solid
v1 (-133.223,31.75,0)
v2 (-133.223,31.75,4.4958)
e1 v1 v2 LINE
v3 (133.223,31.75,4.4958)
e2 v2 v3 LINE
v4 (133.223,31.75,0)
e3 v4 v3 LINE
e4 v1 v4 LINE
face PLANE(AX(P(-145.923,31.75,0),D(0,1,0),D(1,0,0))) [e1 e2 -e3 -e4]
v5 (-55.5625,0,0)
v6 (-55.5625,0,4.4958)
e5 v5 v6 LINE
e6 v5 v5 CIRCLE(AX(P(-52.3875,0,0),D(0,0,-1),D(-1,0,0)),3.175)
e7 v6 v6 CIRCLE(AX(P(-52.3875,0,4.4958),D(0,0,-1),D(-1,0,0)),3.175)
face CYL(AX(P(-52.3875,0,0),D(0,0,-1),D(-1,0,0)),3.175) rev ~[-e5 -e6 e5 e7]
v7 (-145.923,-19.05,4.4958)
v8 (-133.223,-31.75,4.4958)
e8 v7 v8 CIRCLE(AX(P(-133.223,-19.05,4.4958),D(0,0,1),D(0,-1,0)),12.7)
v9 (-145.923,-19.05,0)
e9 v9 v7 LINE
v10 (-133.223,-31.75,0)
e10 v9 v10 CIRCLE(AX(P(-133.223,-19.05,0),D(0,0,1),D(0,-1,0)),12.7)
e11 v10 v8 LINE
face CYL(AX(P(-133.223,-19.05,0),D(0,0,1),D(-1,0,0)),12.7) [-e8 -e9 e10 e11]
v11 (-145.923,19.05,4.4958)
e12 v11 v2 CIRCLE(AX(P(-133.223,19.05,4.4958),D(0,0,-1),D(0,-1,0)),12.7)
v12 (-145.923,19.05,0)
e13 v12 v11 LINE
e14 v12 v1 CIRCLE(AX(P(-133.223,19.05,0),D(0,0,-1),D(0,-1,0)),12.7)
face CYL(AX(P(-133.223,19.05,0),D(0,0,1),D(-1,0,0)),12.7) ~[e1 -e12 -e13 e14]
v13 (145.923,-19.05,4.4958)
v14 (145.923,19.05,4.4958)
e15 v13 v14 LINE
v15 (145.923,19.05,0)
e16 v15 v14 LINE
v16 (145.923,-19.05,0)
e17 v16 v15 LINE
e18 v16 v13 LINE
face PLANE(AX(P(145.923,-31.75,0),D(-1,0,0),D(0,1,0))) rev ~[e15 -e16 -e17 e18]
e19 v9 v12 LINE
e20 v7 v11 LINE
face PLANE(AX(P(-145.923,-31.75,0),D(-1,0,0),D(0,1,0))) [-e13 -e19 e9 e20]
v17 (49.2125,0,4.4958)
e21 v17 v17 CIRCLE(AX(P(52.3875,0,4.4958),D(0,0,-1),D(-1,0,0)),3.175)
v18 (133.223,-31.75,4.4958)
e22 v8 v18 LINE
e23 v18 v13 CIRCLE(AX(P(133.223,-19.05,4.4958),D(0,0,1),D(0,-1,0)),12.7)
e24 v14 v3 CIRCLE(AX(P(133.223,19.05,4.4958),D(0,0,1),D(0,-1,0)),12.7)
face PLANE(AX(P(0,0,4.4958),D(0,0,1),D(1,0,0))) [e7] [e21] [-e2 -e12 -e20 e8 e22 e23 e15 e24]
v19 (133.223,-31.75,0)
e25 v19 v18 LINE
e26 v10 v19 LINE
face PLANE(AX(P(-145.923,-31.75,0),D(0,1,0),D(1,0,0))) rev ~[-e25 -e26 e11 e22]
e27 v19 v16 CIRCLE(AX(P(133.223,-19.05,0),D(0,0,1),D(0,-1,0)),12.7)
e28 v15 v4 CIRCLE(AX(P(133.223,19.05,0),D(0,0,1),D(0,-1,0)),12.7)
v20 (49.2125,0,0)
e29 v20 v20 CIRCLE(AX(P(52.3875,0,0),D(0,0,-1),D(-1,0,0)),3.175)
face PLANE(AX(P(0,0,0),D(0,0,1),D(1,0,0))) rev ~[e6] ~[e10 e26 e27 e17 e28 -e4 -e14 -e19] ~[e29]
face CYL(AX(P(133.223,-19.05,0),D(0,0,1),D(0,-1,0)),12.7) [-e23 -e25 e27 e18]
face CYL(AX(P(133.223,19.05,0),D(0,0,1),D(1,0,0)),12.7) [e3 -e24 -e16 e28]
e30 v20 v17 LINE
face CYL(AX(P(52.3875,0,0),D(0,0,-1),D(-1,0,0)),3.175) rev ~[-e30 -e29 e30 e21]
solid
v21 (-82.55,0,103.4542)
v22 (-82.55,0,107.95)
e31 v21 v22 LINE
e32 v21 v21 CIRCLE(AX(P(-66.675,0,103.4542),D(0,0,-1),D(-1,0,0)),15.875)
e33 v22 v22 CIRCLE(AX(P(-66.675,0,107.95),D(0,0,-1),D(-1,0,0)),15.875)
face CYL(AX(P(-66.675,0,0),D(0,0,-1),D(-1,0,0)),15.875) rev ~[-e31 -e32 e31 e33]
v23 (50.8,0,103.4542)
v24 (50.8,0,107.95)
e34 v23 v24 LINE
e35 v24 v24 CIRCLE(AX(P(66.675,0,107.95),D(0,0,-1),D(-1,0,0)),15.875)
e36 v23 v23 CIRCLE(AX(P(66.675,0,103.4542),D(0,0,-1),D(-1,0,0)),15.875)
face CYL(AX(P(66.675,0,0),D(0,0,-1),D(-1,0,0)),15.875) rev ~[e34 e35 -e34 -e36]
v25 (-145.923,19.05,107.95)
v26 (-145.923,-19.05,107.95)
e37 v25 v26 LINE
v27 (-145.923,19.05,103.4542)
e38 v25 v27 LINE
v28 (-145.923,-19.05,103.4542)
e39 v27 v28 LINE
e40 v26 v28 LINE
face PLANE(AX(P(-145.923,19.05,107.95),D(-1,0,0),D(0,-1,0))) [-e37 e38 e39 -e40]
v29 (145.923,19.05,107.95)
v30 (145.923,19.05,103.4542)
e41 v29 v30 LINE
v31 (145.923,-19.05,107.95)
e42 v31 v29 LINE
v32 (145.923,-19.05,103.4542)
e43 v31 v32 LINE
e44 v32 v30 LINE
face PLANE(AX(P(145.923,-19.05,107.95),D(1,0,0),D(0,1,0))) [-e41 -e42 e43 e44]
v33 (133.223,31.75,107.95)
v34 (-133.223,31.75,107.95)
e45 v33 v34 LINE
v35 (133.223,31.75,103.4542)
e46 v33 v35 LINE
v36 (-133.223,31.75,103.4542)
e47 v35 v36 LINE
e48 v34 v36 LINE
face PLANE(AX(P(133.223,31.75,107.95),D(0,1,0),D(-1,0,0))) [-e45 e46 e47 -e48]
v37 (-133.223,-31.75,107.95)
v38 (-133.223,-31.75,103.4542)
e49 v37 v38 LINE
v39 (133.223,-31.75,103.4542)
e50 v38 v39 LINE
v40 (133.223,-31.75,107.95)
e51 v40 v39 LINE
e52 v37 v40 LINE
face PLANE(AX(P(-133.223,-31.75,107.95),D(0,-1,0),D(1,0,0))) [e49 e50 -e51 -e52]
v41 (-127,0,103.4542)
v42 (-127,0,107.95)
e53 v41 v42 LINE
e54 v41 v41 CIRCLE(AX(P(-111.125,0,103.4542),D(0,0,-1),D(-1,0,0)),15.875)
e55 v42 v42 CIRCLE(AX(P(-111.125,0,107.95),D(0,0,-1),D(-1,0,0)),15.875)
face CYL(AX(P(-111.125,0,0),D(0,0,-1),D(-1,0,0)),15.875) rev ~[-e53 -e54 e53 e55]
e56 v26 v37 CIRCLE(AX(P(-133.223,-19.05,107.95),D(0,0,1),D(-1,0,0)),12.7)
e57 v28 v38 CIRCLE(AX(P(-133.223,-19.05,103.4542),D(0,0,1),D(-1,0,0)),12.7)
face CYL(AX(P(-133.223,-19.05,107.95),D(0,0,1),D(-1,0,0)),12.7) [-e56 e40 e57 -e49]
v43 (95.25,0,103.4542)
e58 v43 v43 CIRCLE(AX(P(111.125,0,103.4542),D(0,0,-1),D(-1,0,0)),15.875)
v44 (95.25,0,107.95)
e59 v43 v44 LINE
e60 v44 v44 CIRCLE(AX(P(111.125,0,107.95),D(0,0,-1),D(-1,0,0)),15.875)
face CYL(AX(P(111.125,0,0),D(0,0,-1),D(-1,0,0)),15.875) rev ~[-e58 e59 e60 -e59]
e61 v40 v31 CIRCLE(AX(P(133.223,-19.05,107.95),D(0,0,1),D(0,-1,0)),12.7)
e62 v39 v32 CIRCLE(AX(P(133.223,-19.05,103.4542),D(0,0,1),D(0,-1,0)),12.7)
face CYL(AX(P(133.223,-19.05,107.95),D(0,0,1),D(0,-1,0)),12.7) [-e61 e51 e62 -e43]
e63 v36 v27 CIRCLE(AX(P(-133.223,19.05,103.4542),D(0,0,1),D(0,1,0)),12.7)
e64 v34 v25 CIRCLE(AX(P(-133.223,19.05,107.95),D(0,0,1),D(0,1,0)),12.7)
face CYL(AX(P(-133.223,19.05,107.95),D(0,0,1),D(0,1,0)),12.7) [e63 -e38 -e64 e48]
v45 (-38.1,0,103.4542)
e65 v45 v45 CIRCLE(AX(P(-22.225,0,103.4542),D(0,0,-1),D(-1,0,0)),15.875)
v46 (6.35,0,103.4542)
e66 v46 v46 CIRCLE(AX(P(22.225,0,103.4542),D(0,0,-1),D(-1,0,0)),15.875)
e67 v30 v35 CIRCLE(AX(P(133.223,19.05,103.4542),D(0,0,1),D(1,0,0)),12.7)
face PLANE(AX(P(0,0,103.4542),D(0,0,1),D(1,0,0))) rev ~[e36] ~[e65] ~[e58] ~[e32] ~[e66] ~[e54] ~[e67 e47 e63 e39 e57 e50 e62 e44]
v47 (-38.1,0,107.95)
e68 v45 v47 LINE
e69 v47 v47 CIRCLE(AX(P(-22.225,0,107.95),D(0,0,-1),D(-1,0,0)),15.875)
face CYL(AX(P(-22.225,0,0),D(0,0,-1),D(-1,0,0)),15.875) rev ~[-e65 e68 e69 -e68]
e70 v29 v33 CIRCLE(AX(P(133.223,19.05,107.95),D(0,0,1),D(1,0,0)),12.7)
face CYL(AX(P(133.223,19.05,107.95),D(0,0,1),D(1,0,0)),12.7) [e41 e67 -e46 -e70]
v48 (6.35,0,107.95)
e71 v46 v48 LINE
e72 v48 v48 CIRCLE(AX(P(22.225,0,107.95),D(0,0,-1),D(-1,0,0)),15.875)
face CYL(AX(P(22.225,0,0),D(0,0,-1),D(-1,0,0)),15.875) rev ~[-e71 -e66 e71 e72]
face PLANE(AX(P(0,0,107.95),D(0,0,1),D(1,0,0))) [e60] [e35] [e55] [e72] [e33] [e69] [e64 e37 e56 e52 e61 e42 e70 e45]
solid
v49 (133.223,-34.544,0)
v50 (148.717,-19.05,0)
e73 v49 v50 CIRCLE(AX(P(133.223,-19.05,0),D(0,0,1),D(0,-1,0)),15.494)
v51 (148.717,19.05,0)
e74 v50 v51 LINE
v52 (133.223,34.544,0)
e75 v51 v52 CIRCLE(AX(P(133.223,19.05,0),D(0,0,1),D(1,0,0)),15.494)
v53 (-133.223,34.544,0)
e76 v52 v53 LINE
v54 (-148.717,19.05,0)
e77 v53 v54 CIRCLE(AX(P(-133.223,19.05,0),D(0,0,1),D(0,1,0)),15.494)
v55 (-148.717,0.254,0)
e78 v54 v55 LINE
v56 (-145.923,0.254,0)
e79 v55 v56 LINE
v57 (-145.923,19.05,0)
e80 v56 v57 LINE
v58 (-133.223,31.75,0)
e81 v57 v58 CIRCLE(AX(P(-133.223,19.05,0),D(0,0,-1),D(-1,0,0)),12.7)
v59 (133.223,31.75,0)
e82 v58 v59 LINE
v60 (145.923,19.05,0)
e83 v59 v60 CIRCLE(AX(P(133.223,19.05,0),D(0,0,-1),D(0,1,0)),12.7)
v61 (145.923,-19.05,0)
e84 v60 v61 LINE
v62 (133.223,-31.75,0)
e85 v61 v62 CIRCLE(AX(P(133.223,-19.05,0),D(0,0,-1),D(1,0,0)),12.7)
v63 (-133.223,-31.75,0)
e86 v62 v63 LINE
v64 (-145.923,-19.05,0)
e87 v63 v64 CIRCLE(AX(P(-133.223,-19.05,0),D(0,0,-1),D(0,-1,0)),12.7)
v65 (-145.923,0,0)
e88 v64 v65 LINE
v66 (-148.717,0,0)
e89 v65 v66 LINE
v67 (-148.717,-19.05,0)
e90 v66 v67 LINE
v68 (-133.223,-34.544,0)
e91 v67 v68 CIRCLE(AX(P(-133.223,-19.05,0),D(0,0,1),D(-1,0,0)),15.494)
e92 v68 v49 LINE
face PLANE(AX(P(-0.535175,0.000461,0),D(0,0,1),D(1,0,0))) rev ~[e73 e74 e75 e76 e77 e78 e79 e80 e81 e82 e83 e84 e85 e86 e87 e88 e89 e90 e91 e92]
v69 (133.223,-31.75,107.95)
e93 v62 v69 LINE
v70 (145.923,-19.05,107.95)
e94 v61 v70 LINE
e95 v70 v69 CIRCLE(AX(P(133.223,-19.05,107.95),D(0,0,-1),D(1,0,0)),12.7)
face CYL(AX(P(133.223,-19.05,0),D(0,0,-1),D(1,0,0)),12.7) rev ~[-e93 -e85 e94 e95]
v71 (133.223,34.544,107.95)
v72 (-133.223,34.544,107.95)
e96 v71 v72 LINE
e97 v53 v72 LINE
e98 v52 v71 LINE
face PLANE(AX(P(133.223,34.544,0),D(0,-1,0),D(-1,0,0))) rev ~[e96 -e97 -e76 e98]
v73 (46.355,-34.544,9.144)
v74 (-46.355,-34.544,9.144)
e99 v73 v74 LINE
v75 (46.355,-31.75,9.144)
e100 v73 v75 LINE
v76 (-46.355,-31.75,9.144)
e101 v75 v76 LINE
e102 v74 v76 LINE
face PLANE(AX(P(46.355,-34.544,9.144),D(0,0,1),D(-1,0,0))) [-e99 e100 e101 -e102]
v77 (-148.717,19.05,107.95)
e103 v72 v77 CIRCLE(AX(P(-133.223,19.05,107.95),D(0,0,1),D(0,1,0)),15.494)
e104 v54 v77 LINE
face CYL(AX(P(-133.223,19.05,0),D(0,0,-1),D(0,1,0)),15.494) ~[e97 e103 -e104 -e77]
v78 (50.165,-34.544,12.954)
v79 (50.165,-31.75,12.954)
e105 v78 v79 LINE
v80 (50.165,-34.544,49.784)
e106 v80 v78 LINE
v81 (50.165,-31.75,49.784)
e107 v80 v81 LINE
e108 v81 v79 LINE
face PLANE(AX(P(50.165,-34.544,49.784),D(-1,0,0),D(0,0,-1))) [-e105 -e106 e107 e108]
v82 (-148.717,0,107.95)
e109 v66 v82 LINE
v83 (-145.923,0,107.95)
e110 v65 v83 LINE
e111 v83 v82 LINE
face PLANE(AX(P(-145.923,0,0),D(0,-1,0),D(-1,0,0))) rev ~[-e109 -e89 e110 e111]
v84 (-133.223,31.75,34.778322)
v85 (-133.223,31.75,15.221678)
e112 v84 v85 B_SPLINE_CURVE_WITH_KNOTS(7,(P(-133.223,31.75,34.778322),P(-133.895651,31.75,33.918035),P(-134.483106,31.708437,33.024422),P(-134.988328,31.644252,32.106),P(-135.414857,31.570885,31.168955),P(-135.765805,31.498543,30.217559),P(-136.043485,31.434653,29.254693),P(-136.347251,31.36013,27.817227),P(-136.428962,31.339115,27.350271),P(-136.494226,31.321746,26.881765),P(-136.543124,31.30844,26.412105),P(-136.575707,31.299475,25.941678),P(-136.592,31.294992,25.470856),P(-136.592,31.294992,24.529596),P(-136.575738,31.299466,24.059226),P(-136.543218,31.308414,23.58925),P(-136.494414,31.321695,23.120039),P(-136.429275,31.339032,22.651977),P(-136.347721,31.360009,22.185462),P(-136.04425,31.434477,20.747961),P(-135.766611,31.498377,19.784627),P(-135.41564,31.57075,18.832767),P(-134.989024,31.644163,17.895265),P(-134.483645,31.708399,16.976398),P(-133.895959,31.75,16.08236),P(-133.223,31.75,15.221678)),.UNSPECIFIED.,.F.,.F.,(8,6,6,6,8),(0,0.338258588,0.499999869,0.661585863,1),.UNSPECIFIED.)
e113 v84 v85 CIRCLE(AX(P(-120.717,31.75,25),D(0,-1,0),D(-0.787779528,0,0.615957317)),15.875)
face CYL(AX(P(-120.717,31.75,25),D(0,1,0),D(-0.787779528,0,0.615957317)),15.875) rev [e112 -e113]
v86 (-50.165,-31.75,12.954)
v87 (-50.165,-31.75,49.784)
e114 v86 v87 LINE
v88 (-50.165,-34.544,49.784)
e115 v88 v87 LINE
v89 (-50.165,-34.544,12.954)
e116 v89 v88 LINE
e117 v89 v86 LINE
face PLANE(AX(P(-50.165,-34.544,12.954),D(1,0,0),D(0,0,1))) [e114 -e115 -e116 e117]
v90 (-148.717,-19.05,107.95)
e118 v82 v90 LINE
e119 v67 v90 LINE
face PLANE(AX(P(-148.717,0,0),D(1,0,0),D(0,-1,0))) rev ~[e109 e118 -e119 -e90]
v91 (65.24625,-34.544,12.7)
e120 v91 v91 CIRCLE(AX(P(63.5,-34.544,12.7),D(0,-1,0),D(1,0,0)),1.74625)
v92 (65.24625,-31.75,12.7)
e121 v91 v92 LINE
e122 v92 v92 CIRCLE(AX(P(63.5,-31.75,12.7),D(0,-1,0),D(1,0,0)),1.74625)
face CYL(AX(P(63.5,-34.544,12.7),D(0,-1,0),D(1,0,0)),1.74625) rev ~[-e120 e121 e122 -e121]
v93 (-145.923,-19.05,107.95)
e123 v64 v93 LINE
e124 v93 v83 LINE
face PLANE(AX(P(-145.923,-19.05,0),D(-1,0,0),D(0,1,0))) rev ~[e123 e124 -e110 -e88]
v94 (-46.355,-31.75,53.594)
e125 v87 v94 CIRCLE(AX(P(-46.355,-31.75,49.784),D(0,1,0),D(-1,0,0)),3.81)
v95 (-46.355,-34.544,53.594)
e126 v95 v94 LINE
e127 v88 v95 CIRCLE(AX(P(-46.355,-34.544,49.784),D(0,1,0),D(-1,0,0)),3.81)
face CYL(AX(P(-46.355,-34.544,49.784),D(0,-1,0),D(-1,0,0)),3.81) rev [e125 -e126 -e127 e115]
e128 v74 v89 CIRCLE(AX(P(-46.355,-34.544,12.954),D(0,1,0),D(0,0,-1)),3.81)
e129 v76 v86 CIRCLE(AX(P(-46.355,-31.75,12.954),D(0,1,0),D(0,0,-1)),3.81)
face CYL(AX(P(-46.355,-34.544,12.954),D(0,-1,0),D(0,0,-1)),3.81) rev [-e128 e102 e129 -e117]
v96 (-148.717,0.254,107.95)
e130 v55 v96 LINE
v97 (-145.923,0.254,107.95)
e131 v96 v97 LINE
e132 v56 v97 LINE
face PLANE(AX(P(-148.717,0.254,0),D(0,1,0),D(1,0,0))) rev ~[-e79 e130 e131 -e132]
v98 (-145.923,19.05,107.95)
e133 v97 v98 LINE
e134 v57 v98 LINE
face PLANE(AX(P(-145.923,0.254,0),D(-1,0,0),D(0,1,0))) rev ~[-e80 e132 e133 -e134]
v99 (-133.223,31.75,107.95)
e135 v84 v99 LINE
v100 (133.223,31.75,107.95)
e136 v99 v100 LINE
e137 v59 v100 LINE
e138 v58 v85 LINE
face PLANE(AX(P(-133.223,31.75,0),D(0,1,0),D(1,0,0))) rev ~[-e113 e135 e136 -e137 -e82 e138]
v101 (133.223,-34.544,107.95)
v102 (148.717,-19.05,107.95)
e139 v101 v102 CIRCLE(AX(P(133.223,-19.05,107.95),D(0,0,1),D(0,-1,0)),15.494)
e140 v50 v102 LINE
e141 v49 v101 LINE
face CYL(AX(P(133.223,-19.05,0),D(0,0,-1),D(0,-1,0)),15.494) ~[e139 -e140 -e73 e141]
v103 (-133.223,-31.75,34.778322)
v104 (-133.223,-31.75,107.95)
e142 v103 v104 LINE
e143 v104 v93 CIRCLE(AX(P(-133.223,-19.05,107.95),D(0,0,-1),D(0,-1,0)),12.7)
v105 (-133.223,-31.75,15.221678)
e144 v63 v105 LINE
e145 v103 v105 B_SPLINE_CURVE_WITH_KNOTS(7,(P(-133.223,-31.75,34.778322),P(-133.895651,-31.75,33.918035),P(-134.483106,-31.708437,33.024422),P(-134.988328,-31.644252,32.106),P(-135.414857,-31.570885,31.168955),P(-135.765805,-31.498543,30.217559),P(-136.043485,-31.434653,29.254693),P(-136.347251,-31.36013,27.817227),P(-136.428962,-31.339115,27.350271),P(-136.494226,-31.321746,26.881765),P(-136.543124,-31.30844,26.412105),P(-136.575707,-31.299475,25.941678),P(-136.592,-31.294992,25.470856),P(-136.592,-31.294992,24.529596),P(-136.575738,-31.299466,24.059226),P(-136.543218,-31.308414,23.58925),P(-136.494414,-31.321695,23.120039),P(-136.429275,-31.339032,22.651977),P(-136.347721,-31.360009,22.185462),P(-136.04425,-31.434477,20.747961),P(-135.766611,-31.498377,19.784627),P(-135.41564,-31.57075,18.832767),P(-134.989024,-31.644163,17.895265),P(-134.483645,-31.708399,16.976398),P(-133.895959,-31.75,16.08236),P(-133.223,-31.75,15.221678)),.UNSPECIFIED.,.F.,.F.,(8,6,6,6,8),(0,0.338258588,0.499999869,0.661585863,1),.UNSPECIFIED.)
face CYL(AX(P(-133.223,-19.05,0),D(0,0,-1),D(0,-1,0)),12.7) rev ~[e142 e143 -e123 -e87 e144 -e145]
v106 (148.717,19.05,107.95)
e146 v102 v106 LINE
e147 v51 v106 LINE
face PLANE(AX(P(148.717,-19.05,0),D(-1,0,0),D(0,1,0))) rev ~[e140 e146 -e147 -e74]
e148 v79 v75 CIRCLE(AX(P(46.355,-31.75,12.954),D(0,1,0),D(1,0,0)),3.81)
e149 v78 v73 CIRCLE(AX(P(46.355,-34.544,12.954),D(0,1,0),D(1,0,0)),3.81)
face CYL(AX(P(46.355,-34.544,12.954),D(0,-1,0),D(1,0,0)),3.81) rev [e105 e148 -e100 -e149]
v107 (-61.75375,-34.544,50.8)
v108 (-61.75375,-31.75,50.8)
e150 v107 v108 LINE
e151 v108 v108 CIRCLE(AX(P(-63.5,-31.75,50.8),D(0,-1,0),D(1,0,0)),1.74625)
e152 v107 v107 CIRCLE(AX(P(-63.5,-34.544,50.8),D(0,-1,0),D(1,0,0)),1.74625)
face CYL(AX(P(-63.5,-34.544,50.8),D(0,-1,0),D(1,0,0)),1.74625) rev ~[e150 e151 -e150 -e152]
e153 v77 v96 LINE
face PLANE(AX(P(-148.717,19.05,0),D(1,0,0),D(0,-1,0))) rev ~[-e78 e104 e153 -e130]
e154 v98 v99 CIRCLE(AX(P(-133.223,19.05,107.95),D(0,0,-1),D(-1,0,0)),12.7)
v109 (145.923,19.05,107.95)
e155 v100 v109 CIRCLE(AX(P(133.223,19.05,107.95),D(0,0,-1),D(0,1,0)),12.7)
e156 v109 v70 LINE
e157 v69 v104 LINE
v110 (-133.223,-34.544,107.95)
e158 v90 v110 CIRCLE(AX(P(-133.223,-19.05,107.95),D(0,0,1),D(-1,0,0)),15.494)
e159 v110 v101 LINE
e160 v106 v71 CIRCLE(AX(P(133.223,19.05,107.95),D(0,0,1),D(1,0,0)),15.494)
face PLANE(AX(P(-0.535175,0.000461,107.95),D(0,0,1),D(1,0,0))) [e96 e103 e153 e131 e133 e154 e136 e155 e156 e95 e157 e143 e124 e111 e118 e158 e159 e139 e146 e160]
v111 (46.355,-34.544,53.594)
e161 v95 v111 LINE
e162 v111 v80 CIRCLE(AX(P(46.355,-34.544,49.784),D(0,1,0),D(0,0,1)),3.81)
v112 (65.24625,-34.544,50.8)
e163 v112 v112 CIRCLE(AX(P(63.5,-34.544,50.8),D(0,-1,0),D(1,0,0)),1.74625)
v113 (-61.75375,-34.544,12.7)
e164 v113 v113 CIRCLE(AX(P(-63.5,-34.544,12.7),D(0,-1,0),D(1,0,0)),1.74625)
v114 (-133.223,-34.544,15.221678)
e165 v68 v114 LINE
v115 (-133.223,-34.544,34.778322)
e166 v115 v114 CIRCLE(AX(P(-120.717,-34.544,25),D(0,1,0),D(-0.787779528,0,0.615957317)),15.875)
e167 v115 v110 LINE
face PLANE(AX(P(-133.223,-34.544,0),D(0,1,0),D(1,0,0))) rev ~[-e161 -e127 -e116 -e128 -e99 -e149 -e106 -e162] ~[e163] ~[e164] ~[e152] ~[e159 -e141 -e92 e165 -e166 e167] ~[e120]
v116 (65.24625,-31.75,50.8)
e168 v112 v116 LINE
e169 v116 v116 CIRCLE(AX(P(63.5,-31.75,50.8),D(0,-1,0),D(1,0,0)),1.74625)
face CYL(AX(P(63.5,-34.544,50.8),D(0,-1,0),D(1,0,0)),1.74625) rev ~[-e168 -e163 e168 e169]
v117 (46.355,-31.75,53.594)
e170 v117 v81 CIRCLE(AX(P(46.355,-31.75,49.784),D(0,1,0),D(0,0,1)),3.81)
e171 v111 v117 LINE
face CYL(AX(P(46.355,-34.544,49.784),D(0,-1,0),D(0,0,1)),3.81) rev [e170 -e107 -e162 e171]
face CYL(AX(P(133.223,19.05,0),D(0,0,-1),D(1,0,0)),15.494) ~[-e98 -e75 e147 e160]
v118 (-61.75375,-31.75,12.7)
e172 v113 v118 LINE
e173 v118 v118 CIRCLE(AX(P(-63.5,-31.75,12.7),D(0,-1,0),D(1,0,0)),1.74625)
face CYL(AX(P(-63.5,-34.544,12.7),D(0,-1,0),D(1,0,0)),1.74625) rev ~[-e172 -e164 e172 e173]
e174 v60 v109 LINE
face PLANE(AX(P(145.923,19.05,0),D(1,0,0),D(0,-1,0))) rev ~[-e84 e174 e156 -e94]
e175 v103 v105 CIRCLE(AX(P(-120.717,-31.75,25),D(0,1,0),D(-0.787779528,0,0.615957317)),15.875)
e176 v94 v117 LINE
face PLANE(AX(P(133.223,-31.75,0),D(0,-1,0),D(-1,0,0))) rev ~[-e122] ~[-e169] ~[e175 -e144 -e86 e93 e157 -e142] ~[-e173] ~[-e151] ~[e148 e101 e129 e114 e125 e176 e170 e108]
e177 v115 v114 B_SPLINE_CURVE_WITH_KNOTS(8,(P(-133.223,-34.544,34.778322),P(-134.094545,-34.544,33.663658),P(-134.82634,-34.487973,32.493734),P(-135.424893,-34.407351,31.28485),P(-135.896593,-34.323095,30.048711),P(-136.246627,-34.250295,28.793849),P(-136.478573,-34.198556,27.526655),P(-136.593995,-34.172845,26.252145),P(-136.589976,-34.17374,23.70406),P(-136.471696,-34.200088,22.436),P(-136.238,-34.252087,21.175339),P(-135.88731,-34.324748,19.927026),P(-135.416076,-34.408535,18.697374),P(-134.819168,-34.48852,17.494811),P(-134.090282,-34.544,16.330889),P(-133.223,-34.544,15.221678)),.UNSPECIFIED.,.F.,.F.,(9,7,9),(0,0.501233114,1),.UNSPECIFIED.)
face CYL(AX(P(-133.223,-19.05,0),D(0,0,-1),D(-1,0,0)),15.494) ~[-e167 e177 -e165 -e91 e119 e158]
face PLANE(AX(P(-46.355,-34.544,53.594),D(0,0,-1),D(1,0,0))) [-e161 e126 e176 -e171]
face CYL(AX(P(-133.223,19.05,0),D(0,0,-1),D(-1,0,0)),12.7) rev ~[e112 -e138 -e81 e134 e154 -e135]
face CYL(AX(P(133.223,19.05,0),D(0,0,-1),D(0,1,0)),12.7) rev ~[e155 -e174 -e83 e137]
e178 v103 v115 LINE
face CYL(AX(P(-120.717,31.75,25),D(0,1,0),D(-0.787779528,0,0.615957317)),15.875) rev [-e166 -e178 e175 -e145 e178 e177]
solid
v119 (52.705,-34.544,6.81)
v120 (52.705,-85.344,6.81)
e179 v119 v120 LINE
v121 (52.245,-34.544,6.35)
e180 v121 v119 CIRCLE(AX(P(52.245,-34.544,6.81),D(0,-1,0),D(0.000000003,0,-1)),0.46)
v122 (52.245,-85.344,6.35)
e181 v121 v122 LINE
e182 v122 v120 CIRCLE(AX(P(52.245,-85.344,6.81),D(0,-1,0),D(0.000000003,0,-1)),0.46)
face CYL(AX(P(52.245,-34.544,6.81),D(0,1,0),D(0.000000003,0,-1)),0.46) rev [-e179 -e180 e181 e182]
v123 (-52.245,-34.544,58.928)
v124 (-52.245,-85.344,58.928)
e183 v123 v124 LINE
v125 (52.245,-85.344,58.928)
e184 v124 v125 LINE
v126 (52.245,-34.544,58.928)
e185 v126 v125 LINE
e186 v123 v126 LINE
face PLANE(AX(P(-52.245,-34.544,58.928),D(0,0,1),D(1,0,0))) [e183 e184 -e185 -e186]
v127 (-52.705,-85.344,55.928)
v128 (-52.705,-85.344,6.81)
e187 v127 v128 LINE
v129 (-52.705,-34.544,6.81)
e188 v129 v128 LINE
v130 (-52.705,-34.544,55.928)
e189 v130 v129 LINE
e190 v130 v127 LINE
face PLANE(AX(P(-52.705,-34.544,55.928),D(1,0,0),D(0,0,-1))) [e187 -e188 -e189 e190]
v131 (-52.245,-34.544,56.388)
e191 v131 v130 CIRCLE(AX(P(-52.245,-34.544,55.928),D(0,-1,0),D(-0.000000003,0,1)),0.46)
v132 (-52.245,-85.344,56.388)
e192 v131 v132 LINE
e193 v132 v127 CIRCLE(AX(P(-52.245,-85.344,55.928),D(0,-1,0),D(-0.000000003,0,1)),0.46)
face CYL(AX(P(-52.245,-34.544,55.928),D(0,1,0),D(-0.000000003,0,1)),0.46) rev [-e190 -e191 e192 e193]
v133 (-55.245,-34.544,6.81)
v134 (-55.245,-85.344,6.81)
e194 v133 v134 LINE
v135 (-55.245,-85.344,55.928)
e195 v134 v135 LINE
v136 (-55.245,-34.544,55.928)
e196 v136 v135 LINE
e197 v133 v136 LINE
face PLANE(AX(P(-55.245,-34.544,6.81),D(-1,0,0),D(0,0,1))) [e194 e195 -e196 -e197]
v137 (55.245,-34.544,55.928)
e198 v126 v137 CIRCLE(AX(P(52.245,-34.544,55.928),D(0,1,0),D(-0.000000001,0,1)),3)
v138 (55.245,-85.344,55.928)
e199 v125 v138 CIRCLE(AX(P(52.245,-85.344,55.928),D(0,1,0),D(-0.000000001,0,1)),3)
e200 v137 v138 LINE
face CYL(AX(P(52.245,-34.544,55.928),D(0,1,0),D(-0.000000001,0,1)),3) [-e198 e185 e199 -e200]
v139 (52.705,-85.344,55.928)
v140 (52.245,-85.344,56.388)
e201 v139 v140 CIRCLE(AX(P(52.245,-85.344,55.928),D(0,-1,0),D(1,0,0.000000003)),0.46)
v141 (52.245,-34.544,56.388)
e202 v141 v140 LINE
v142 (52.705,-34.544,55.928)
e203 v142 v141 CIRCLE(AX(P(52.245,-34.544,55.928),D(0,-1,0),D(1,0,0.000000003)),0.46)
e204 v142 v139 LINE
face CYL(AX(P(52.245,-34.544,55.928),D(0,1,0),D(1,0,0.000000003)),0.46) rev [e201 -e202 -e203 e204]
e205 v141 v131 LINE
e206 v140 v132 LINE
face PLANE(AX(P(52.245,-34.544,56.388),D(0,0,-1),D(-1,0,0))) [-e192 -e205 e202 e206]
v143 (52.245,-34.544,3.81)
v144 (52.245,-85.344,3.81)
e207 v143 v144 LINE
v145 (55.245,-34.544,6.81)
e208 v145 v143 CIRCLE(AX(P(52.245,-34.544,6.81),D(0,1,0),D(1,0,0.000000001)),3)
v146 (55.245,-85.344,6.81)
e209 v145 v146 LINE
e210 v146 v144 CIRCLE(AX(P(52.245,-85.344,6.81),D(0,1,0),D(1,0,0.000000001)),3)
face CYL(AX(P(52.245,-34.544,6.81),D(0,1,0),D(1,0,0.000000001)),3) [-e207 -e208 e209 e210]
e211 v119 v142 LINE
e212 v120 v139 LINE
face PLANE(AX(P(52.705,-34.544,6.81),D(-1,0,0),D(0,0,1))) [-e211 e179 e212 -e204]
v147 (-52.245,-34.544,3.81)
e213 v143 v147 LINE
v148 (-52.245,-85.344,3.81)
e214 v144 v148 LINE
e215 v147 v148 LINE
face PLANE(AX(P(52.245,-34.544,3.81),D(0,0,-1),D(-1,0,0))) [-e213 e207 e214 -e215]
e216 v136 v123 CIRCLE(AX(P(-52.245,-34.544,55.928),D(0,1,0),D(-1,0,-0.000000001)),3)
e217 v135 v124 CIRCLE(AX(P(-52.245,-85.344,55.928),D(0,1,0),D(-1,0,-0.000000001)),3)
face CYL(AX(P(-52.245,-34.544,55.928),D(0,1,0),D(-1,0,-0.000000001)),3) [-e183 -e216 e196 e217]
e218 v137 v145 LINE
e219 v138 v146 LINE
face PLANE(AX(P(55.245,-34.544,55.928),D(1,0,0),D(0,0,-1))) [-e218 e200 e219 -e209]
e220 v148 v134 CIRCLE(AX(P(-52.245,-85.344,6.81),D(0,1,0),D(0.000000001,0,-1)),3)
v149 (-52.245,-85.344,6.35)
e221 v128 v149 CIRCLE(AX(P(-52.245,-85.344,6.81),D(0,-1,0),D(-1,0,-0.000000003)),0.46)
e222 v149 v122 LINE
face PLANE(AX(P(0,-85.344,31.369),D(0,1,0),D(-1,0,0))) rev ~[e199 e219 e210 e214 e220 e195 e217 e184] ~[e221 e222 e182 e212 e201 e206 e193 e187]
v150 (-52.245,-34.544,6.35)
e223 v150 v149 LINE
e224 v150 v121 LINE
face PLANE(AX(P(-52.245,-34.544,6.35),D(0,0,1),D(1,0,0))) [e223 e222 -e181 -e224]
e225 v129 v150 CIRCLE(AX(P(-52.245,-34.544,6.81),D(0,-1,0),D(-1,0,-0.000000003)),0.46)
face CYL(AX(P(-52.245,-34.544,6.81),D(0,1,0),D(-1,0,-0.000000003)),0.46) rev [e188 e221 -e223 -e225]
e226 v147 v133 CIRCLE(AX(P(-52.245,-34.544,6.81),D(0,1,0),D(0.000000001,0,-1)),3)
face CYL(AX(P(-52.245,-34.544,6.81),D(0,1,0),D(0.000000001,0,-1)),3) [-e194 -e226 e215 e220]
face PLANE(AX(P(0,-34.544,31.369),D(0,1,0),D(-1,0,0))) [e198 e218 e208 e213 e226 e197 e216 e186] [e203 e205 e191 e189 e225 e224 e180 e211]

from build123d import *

# Parameters (mm, degrees)
SKETCH1_W           = 291.846
SKETCH1_H           = 63.5
BOSS_EXTRUDE1_DEPTH = 4.4958
FILLET1_R           = 12.7
BOSS_EXTRUDE2_DEPTH = 107.95
BOSS_EXTRUDE3_DEPTH = 4.4958
SKETCH2_R           = 15.875
CUT_EXTRUDE1_DEPTH  = 187.984589004
BOSS_EXTRUDE5_DEPTH = 50.8
SKETCH7_R           = 3.175
CUT_EXTRUDE2_DEPTH  = 4.4958
CUT_EXTRUDE3_DEPTH  = 2.794
CUT_EXTRUDE4_START  = -66.294
SKETCH9_R           = 15.875
CUT_EXTRUDE4_DEPTH  = 263.617967801
SKETCH10_R          = 1.74625
CUT_EXTRUDE5_DEPTH  = 2.794


with BuildPart() as part:
    # Sketch1 → Boss-Extrude1 (new body)
    with BuildSketch(Plane.XY):
        Rectangle(SKETCH1_W, SKETCH1_H)
    extrude(amount=BOSS_EXTRUDE1_DEPTH)

    # Fillet1
    fillet1_edges = [part.edges().sort_by_distance(p)[0] for p in [
        (145.923, -31.75, 2.2479),
        (-145.923, -31.75, 2.2479),
        (-145.923, 31.75, 2.2479),
        (145.923, 31.75, 2.2479),
    ]]
    fillet(fillet1_edges, radius=FILLET1_R)

    # Sketch7 → Cut-Extrude2 (cut)
    with BuildSketch(Plane(origin=(0, 0, 0), x_dir=(-1, 0, 0), z_dir=(0, 0, -1))):
        with Locations((-52.3875, 0)):
            Circle(SKETCH7_R)
        with Locations((52.3875, 0)):
            Circle(SKETCH7_R)
    extrude(amount=-CUT_EXTRUDE2_DEPTH, mode=Mode.SUBTRACT)


with BuildPart() as body_2:
    # Sketch3 → Boss-Extrude2 (new body)
    with BuildSketch(Plane.XY):
        with BuildLine():
            Line((133.223, 34.544), (-133.223, 34.544))
            ThreePointArc((-133.223, 34.544), (-144.178912468, 30.005912468), (-148.717, 19.05))
            Line((-148.717, 19.05), (-148.717, 0.254))
            Line((-148.717, 0.254), (-145.923, 0.254))
            Line((-145.923, 0.254), (-145.923, 19.05))
            ThreePointArc((-145.923, 19.05), (-142.203256121, 28.030256121), (-133.223, 31.75))
            Line((-133.223, 31.75), (133.223, 31.75))
            ThreePointArc((133.223, 31.75), (142.203256121, 28.030256121), (145.923, 19.05))
            Line((145.923, 19.05), (145.923, -19.05))
            ThreePointArc((145.923, -19.05), (142.203256121, -28.030256121), (133.223, -31.75))
            Line((133.223, -31.75), (-133.223, -31.75))
            ThreePointArc((-133.223, -31.75), (-142.203256121, -28.030256121), (-145.923, -19.05))
            Line((-145.923, -19.05), (-145.923, 0))
            Line((-145.923, 0), (-148.717, 0))
            Line((-148.717, 0), (-148.717, -19.05))
            ThreePointArc((-148.717, -19.05), (-144.178912468, -30.005912468), (-133.223, -34.544))
            Line((-133.223, -34.544), (133.223, -34.544))
            ThreePointArc((133.223, -34.544), (144.178912468, -30.005912468), (148.717, -19.05))
            Line((148.717, -19.05), (148.717, 19.05))
            ThreePointArc((148.717, 19.05), (144.178912468, 30.005912468), (133.223, 34.544))
        make_face()
    extrude(amount=BOSS_EXTRUDE2_DEPTH)

    # Sketch8 → Cut-Extrude3 (cut)
    with BuildSketch(Plane.XZ.offset(34.544)):
        with BuildLine():
            Line((-46.355, 53.594), (46.355, 53.594))
            ThreePointArc((46.355, 53.594), (49.049076836, 52.478076836), (50.165, 49.784))
            Line((50.165, 49.784), (50.165, 12.954))
            ThreePointArc((50.165, 12.954), (49.049076836, 10.259923164), (46.355, 9.144))
            Line((46.355, 9.144), (-46.355, 9.144))
            ThreePointArc((-46.355, 9.144), (-49.049076836, 10.259923164), (-50.165, 12.954))
            Line((-50.165, 12.954), (-50.165, 49.784))
            ThreePointArc((-50.165, 49.784), (-49.049076836, 52.478076836), (-46.355, 53.594))
        make_face()
    extrude(amount=-CUT_EXTRUDE3_DEPTH, mode=Mode.SUBTRACT)

    # Sketch9 → Cut-Extrude4 (cut, through all)
    with BuildSketch(Plane.XZ.offset(34.544).offset(CUT_EXTRUDE4_START)):
        with Locations(Location((-120.717, 25, 0), (0, 0, 141.978486401))):
            Circle(SKETCH9_R)
    extrude(amount=CUT_EXTRUDE4_DEPTH, mode=Mode.SUBTRACT)

    # Sketch10 → Cut-Extrude5 (cut)
    with BuildSketch(Plane.XZ.offset(34.544)):
        with Locations((63.5, 50.8)):
            Circle(SKETCH10_R)
        with Locations((63.5, 12.7)):
            Circle(SKETCH10_R)
        with Locations((-63.5, 50.8)):
            Circle(SKETCH10_R)
        with Locations((-63.5, 12.7)):
            Circle(SKETCH10_R)
    extrude(amount=-CUT_EXTRUDE5_DEPTH, mode=Mode.SUBTRACT)


with BuildPart() as body_3:
    # Sketch4 → Boss-Extrude3 (new body)
    with BuildSketch(Plane.XY.offset(107.95)):
        with BuildLine():
            Line((-145.923, 19.05), (-145.923, -19.05))
            ThreePointArc((-145.923, -19.05), (-142.203256121, -28.030256121), (-133.223, -31.75))
            Line((-133.223, -31.75), (133.223, -31.75))
            ThreePointArc((133.223, -31.75), (142.203256121, -28.030256121), (145.923, -19.05))
            Line((145.923, -19.05), (145.923, 19.05))
            ThreePointArc((145.923, 19.05), (142.203256121, 28.030256121), (133.223, 31.75))
            Line((133.223, 31.75), (-133.223, 31.75))
            ThreePointArc((-133.223, 31.75), (-142.203256121, 28.030256121), (-145.923, 19.05))
        make_face()
    extrude(amount=-BOSS_EXTRUDE3_DEPTH)

    # Sketch2 → Cut-Extrude1 (cut, through all)
    with BuildSketch(Plane(origin=(0, 0, 0), x_dir=(-1, 0, 0), z_dir=(0, 0, -1))):
        with Locations((-111.125, 0)):
            Circle(SKETCH2_R)
        with Locations((-66.675, 0)):
            Circle(SKETCH2_R)
        with Locations((-22.225, 0)):
            Circle(SKETCH2_R)
        with Locations((22.225, 0)):
            Circle(SKETCH2_R)
        with Locations((66.675, 0)):
            Circle(SKETCH2_R)
        with Locations((111.125, 0)):
            Circle(SKETCH2_R)
    extrude(amount=-CUT_EXTRUDE1_DEPTH, mode=Mode.SUBTRACT)


with BuildPart() as body_4:
    # Sketch6 → Boss-Extrude5 (new body)
    with BuildSketch(Plane.XZ.offset(34.544)):
        with BuildLine():
            Line((-52.245, 58.928), (52.245, 58.928))
            ThreePointArc((52.245, 58.928), (54.366320344, 58.049320344), (55.245, 55.928))
            Line((55.245, 55.928), (55.245, 6.81))
            ThreePointArc((55.245, 6.81), (54.366320344, 4.688679656), (52.245, 3.81))
            Line((52.245, 3.81), (-52.245, 3.81))
            ThreePointArc((-52.245, 3.81), (-54.366320344, 4.688679656), (-55.245, 6.81))
            Line((-55.245, 6.81), (-55.245, 55.928))
            ThreePointArc((-55.245, 55.928), (-54.366320344, 58.049320344), (-52.245, 58.928))
        make_face()
        with BuildLine():
            Line((-52.705, 55.928), (-52.705, 6.81))
            ThreePointArc((-52.705, 6.81), (-52.570269119, 6.484730881), (-52.245, 6.35))
            Line((-52.245, 6.35), (52.245, 6.35))
            ThreePointArc((52.245, 6.35), (52.570269119, 6.484730881), (52.705, 6.81))
            Line((52.705, 6.81), (52.705, 55.928))
            ThreePointArc((52.705, 55.928), (52.570269119, 56.253269119), (52.245, 56.388))
            Line((52.245, 56.388), (-52.245, 56.388))
            ThreePointArc((-52.245, 56.388), (-52.570269119, 56.253269119), (-52.705, 55.928))
        make_face(mode=Mode.SUBTRACT)
    extrude(amount=BOSS_EXTRUDE5_DEPTH)


solid = Compound([part.part, body_2.part, body_3.part, body_4.part])
